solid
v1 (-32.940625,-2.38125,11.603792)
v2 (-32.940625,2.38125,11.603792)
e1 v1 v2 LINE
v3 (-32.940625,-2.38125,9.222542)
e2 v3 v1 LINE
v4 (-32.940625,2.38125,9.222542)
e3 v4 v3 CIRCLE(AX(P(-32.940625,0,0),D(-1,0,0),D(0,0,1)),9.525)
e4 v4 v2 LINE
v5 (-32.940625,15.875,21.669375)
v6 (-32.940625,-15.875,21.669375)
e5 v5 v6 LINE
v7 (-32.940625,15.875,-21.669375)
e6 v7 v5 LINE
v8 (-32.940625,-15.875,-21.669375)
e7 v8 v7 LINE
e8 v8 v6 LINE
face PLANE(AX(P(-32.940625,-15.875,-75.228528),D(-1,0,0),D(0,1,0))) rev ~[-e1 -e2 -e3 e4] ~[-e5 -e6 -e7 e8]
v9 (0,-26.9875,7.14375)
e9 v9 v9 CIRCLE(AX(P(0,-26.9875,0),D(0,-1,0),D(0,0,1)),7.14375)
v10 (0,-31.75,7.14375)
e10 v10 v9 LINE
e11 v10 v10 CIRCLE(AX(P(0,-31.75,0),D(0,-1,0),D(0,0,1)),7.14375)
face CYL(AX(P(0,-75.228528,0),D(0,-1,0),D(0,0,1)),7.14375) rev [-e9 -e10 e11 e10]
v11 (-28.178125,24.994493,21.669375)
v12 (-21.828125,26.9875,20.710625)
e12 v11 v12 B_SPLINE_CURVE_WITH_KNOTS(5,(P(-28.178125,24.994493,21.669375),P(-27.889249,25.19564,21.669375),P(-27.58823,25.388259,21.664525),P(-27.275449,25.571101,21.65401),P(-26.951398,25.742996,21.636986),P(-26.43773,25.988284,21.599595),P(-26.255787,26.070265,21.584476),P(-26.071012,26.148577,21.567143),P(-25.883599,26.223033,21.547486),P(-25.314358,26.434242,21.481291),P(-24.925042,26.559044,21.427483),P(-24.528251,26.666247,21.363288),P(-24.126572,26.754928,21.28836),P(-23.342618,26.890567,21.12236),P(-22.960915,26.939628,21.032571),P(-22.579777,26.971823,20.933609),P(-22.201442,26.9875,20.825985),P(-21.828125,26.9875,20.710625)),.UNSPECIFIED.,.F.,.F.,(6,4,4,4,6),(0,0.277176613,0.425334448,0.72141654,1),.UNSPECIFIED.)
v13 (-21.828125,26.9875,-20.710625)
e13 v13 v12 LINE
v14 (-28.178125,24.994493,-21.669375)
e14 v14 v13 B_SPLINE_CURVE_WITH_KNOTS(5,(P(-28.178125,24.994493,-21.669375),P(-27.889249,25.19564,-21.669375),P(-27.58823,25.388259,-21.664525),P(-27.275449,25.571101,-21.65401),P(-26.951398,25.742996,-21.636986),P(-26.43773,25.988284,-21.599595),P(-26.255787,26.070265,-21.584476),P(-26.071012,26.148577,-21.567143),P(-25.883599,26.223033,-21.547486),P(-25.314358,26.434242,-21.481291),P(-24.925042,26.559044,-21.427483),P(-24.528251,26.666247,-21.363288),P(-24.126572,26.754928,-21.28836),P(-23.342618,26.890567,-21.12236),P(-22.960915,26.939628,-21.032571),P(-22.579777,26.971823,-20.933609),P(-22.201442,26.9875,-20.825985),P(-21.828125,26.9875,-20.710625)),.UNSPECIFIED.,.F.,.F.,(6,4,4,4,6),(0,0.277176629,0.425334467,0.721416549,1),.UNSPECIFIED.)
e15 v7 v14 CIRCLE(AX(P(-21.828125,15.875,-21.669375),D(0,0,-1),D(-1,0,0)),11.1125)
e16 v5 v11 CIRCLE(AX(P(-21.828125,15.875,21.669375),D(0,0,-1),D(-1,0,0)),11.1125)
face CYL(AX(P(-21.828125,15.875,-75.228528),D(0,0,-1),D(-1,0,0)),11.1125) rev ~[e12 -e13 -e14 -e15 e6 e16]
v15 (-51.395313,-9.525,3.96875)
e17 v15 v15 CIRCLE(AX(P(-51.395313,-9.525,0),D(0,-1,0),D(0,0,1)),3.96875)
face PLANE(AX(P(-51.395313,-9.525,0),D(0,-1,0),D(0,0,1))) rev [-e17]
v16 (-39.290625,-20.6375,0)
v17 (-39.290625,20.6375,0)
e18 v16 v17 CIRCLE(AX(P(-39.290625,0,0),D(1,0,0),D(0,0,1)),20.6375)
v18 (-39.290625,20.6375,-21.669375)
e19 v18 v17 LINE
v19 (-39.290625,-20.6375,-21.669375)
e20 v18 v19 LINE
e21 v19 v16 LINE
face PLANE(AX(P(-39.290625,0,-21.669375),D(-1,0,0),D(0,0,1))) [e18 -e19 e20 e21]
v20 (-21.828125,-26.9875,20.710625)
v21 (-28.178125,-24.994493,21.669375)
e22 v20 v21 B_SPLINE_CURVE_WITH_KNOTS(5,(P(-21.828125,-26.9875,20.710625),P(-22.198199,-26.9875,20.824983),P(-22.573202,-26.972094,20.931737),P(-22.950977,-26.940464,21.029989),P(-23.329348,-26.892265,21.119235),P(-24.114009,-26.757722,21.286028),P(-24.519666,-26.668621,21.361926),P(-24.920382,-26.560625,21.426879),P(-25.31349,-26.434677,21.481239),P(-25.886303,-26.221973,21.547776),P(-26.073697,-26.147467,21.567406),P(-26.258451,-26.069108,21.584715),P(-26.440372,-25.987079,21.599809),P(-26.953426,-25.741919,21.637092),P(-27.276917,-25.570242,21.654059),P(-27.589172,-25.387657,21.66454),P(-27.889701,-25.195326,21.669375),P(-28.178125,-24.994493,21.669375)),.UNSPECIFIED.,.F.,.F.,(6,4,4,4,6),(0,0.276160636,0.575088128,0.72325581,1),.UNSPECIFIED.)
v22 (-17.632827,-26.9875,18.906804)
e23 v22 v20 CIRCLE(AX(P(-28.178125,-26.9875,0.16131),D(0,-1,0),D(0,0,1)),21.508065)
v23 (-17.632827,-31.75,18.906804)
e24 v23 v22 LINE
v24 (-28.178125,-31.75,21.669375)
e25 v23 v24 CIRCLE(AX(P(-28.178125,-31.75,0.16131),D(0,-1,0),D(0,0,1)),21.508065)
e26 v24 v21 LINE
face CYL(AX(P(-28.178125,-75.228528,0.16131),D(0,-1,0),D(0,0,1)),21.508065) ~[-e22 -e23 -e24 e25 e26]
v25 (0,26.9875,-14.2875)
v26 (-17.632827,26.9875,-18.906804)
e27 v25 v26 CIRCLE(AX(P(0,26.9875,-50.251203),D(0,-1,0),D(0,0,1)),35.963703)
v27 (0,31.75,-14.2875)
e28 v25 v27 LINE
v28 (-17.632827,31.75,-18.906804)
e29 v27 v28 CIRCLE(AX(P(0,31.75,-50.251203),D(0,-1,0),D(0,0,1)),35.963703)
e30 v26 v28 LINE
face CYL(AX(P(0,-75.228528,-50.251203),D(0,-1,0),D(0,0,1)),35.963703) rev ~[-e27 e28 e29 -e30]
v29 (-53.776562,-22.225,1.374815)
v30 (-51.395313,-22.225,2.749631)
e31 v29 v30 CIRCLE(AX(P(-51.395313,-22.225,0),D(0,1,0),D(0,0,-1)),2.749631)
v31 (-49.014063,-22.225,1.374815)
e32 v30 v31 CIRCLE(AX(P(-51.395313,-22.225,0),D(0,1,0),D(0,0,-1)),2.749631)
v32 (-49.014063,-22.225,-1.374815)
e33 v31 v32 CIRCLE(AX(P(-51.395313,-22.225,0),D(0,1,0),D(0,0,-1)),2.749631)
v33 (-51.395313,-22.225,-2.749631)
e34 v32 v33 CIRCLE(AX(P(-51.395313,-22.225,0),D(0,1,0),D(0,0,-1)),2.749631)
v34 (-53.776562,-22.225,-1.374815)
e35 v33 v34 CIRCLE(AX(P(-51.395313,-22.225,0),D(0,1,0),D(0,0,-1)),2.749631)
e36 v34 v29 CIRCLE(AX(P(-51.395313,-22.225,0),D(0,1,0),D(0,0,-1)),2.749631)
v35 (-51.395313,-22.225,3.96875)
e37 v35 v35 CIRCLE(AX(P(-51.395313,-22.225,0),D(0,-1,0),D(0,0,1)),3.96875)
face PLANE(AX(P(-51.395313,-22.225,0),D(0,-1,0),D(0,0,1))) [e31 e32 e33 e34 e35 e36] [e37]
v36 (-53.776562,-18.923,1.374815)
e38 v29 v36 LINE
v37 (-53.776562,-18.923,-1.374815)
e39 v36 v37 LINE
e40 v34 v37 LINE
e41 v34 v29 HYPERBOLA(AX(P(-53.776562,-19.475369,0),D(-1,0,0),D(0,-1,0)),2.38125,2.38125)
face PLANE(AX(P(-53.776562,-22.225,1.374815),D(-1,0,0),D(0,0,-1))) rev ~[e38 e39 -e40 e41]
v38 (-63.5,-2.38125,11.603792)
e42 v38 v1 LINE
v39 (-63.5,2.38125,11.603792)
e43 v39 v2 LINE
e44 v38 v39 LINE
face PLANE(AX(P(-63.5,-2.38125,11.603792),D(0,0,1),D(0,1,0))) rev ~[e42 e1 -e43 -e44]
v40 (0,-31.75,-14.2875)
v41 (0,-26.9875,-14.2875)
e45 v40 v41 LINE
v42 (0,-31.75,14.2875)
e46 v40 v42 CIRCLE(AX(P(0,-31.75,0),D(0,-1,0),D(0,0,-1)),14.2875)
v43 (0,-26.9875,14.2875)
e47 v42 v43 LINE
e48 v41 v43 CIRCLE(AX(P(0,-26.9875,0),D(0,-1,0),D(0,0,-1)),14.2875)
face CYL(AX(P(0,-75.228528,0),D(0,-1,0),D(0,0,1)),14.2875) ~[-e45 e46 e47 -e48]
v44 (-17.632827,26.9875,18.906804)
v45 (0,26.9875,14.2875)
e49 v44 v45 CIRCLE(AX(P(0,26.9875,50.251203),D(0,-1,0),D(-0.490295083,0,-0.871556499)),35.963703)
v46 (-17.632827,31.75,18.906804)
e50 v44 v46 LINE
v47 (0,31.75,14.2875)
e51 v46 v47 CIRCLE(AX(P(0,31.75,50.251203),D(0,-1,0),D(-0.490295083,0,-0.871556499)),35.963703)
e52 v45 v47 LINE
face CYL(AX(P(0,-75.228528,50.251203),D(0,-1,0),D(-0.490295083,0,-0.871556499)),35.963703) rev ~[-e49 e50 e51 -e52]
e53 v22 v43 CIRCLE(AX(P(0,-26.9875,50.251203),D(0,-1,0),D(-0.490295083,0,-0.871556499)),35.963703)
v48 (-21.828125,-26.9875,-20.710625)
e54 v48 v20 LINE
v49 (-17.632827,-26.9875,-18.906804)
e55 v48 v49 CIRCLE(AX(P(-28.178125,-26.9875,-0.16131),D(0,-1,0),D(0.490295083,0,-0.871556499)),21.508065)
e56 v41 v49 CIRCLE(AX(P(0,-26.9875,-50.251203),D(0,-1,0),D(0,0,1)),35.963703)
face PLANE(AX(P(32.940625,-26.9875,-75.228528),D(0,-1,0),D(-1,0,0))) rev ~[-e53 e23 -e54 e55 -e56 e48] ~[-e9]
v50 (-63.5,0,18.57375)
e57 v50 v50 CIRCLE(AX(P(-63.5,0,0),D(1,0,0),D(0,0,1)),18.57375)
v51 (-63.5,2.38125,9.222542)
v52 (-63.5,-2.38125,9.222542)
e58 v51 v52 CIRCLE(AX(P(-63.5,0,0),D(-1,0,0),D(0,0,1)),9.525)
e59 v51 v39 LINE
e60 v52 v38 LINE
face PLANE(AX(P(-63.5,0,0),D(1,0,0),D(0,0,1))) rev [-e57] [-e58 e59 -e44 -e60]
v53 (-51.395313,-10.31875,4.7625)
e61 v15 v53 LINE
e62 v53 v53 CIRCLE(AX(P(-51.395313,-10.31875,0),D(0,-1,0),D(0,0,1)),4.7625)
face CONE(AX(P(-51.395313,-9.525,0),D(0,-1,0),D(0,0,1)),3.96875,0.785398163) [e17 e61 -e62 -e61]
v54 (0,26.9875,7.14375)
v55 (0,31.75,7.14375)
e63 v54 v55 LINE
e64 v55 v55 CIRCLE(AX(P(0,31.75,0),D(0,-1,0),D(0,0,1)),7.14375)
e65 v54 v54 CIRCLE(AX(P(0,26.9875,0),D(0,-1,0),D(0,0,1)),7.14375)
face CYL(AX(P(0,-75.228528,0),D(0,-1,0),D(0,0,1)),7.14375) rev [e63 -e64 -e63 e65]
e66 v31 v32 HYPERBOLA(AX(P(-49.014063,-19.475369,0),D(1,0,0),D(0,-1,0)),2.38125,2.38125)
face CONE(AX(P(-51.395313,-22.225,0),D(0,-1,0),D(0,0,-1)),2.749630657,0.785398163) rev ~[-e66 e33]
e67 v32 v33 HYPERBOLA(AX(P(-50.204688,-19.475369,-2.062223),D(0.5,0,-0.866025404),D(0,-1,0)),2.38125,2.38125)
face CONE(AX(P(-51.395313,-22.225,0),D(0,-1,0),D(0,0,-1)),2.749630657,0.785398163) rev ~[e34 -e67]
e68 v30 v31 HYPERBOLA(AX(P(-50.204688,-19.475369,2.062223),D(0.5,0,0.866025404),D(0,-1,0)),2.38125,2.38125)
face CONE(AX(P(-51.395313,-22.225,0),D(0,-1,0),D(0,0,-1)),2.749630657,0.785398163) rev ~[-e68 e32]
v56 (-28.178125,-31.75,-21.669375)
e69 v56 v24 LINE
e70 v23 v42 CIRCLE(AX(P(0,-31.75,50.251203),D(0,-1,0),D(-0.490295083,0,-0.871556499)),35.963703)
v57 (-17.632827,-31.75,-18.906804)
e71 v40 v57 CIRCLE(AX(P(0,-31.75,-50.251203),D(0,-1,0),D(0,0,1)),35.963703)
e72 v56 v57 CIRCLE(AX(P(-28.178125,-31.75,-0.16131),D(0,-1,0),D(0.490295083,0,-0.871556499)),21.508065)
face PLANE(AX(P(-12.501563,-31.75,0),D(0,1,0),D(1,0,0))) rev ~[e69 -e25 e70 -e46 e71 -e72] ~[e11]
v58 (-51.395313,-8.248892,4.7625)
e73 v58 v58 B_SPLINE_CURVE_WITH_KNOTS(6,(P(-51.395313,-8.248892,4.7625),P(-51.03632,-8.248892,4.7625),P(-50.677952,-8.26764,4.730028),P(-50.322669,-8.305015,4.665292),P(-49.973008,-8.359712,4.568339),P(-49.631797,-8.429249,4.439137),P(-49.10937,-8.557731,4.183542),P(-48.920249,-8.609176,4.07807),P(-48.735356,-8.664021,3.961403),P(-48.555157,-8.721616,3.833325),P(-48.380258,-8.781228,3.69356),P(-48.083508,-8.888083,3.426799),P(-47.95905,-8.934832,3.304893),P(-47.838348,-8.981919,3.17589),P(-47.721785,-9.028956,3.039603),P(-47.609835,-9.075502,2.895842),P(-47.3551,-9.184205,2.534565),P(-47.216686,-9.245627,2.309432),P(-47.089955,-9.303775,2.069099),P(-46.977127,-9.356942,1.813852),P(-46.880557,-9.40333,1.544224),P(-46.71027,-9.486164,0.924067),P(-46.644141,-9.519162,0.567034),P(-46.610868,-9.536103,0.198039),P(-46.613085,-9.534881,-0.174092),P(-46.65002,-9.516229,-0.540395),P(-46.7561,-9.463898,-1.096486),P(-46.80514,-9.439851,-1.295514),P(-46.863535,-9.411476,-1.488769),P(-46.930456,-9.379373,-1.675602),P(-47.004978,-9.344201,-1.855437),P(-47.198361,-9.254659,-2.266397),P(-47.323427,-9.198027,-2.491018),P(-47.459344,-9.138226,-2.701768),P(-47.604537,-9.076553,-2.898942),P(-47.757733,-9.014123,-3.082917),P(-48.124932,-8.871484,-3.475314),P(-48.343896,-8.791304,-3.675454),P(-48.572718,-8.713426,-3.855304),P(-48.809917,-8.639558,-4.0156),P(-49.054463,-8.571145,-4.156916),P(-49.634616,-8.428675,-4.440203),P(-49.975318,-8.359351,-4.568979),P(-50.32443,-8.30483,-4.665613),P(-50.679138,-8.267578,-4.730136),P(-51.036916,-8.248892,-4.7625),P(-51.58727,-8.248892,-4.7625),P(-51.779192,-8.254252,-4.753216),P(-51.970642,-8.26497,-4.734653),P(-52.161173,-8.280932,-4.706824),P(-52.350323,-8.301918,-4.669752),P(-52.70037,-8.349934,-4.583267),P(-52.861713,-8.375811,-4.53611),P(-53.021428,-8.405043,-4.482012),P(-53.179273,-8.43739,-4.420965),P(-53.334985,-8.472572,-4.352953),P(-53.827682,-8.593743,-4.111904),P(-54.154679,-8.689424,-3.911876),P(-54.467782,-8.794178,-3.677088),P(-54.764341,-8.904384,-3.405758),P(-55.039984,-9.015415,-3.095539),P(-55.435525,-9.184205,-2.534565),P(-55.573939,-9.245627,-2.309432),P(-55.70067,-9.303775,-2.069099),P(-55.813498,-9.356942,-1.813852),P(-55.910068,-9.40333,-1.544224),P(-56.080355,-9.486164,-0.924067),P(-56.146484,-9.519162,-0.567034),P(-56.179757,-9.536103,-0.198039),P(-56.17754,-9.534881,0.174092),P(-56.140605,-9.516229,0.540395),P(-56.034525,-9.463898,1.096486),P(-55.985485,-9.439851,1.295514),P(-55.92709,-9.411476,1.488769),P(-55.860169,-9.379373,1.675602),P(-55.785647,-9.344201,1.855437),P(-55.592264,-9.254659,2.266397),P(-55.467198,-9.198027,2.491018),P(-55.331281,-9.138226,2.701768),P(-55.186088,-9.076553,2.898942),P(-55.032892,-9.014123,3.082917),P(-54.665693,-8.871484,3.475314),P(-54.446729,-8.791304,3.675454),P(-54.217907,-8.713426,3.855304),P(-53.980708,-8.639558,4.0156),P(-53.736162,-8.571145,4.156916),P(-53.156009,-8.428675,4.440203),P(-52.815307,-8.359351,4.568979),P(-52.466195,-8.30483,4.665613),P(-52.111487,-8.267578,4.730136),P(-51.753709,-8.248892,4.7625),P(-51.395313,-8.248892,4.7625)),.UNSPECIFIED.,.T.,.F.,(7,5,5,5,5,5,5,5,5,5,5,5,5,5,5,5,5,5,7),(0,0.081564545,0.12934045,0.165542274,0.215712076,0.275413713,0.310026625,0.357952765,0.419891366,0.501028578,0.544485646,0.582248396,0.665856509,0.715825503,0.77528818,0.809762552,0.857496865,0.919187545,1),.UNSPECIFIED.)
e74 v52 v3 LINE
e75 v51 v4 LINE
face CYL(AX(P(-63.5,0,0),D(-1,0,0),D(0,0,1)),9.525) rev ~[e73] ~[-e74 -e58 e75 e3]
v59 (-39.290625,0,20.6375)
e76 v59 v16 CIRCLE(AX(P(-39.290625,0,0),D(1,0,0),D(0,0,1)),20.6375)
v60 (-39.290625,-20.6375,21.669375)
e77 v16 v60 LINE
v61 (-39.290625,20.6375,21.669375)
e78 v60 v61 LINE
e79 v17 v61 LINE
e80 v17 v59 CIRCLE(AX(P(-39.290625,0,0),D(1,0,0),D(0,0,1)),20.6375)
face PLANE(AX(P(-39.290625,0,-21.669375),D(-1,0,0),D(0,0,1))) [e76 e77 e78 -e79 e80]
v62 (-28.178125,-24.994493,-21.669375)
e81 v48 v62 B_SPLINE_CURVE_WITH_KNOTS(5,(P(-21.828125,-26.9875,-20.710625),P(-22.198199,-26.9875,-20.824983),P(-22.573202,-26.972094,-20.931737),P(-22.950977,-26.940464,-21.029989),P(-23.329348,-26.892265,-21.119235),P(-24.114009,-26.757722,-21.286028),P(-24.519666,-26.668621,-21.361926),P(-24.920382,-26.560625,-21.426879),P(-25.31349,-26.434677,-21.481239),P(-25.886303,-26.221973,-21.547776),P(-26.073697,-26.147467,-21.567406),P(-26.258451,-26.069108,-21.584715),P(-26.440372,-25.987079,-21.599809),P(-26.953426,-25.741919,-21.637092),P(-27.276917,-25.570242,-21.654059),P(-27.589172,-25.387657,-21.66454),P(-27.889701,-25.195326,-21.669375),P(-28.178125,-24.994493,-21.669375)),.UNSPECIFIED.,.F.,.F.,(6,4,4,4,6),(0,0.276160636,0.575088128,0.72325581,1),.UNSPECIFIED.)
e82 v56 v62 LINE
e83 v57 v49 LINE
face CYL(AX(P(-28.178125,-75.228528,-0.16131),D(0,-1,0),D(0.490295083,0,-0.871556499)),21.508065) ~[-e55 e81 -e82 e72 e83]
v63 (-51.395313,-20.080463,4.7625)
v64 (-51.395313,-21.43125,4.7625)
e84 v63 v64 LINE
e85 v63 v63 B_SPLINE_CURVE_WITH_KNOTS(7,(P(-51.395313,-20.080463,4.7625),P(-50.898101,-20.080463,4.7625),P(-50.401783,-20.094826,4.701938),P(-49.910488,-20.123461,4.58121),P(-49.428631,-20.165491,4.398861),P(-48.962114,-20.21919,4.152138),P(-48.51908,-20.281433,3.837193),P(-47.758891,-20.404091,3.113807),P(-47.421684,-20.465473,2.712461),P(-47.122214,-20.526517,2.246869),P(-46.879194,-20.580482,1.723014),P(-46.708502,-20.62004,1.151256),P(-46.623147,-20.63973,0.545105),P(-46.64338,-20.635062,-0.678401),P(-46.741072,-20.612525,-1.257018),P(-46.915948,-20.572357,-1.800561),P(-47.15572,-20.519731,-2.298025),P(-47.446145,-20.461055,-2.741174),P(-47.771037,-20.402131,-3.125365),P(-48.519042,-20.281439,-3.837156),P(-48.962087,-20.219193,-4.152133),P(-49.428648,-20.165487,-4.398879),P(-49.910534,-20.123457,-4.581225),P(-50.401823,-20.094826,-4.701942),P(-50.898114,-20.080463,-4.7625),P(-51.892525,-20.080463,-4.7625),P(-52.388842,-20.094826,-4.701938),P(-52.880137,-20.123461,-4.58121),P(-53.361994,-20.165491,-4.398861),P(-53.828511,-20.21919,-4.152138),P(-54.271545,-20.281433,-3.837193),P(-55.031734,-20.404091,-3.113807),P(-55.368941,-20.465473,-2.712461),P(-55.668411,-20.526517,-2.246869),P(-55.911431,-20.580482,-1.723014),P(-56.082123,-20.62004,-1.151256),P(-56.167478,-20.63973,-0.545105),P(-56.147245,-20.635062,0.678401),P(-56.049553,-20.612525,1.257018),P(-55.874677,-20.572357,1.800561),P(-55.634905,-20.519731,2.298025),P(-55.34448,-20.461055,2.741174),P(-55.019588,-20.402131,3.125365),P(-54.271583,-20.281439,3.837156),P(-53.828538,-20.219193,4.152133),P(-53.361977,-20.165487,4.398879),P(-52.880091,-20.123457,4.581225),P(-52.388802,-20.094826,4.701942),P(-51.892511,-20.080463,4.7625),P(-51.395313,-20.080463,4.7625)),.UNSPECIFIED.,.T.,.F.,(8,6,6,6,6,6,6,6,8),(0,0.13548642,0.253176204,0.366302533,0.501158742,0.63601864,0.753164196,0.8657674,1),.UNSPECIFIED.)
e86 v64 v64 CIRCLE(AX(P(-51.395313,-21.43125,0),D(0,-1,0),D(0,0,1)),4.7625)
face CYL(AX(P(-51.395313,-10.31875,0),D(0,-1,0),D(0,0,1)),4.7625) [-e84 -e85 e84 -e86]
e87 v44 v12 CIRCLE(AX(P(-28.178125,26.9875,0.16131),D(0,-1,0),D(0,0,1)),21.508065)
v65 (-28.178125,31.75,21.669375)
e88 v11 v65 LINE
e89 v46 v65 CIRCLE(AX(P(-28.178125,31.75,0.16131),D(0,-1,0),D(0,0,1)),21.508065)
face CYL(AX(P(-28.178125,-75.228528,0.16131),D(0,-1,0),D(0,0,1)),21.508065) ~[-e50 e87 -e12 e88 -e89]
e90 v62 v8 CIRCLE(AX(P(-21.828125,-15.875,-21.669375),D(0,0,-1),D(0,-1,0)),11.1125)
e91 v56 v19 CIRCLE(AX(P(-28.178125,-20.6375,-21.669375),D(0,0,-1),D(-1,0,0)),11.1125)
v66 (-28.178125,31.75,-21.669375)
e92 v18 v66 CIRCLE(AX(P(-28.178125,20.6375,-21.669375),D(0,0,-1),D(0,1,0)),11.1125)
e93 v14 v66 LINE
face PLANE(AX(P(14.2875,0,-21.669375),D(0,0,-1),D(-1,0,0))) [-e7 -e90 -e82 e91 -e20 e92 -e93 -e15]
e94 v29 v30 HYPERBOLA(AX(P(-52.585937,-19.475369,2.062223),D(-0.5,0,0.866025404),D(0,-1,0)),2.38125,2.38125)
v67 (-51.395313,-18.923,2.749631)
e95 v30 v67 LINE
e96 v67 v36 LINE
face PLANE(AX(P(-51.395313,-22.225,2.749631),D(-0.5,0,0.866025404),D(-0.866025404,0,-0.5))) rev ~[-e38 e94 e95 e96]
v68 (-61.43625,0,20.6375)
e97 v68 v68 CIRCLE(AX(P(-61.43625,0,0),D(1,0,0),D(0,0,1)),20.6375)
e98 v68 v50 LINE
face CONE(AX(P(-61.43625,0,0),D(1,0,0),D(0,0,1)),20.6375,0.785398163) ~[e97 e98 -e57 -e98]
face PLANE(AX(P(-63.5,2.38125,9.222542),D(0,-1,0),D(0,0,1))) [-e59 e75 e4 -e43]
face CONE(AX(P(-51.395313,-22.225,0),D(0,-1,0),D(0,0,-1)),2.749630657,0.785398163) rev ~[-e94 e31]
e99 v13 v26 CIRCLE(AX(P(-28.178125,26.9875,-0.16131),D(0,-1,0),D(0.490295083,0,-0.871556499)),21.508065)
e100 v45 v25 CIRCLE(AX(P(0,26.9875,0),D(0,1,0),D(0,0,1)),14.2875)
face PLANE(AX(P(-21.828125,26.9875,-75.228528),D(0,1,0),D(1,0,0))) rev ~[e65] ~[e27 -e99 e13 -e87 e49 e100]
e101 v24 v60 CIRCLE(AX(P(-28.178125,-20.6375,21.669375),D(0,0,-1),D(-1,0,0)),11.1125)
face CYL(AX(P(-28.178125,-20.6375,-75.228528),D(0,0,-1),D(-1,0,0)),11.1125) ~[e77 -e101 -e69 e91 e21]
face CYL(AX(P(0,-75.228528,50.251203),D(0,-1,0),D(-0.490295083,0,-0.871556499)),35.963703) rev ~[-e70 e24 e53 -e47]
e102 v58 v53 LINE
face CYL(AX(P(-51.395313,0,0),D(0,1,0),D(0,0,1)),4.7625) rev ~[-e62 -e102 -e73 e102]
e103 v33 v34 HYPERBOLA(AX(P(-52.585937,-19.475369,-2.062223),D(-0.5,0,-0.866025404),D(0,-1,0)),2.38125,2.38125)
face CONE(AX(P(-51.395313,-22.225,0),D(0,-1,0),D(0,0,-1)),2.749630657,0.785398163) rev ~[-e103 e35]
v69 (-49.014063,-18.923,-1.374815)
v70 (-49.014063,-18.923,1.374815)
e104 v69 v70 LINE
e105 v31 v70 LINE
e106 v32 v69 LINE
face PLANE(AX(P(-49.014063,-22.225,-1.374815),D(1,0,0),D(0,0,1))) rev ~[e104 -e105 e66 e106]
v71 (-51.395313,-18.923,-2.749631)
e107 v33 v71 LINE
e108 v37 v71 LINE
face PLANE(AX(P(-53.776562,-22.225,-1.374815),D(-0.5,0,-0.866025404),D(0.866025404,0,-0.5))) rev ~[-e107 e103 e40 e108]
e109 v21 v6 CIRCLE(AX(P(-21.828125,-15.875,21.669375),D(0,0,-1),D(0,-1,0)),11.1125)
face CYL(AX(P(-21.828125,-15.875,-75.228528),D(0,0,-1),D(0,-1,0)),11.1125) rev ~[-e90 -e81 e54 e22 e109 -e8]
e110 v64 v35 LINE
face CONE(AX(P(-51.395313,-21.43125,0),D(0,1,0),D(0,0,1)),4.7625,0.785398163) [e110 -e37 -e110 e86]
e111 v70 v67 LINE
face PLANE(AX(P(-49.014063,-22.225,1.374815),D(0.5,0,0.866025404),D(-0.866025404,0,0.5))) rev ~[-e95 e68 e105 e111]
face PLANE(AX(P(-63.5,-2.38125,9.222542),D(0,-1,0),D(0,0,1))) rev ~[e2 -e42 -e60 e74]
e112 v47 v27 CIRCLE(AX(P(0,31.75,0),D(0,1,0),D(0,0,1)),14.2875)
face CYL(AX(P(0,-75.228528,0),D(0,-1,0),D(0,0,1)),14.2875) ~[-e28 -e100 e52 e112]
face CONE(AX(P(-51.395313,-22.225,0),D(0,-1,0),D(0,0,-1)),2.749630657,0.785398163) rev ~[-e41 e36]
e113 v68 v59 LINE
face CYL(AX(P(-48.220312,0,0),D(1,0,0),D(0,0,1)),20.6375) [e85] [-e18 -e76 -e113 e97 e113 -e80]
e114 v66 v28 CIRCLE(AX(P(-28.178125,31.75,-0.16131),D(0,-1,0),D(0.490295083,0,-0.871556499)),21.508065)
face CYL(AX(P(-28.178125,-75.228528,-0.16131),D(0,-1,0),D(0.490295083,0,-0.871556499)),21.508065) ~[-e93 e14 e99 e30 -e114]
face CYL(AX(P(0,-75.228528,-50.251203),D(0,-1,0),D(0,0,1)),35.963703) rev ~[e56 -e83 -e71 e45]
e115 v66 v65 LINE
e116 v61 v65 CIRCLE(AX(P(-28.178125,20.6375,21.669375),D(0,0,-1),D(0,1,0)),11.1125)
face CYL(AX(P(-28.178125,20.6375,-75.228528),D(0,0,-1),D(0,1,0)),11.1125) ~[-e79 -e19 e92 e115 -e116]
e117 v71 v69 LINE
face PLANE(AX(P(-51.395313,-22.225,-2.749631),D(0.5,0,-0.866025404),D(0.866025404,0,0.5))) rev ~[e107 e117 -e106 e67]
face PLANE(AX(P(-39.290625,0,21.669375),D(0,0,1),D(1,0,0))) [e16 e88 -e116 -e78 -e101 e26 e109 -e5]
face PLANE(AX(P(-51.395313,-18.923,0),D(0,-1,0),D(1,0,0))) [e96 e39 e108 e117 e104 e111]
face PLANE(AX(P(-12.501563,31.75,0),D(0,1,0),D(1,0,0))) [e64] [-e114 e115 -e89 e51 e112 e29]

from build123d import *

# Parameters (mm, degrees)
SKETCH1_W           = 30.559375
SKETCH1_H           = 20.6375
BOSS_EXTRUDE6_DEPTH = 31.75
CHAMFER1_SIZE       = 2.06375
EXTRUDE3_DEPTH      = 75.228527622
EXTRUDE3_DEPTH_BACK = 75.228527622
EXTRUDE1_DEPTH      = 75.228527622
EXTRUDE1_DEPTH_BACK = 75.228527622
SKETCH4_R           = 9.525
EXTRUDE4_DEPTH      = 30.559375
EXTRUDE6_DEPTH      = 75.228527694
EXTRUDE6_DEPTH_BACK = 75.228527694
SKETCH6_R           = 7.14375
SKETCH33_W          = 2.38125
SKETCH33_H          = 4.7625
CUT_EXTRUDE1_DEPTH  = 87.767041438
SKETCH34_R          = 4.7625
CUT_EXTRUDE2_DEPTH  = 75.228527694
CUT_EXTRUDE3_DEPTH  = 3.302


with BuildPart() as part:
    # Sketch1 → Revolve1 (revolve)
    with BuildSketch(Plane(origin=(0, 0, 0), x_dir=(1, 0, 0), z_dir=(0, 1, 0)), mode=Mode.PRIVATE) as revolve1_sk:
        with Locations((-48.2203125, 10.31875)):
            Rectangle(SKETCH1_W, SKETCH1_H)
    revolve(revolve1_sk.sketch.rotate(Axis((-63.5, 0, 0), (1, 0, 0)), 180), axis=Axis((-63.5, 0, 0), (1, 0, 0)))

    # Sketch30 → Boss-Extrude6 (add, symmetric)
    with BuildSketch(Plane(origin=(0, 0, 0), x_dir=(1, 0, 0), z_dir=(0, 1, 0))):
        Polygon((-39.290625, 21.669375), (-39.290625, -21.669375), (-21.828125, -21.669375), (14.2875, -21.669375), (14.2875, 21.669375), (-21.828125, 21.669375), align=None)
    extrude(amount=BOSS_EXTRUDE6_DEPTH, both=True)

    # Chamfer1
    chamfer1_edges = [part.edges().sort_by_distance(p)[0] for p in [
        (-63.5, 0, -20.6375),
    ]]
    chamfer(chamfer1_edges, length=CHAMFER1_SIZE)

    # Sketch3 → Extrude3 (cut, two sides: drawn at the far end of the back side and taken through both)
    with BuildSketch(Plane.XY.offset(-EXTRUDE3_DEPTH_BACK)):
        with BuildLine():
            Line((-21.828125, 26.9875), (32.940625, 26.9875))
            Line((32.940625, 26.9875), (32.940625, -26.9875))
            Line((32.940625, -26.9875), (-21.828125, -26.9875))
            ThreePointArc((-21.828125, -26.9875), (-29.685849106, -23.732724106), (-32.940625, -15.875))
            Line((-32.940625, -15.875), (-32.940625, 15.875))
            ThreePointArc((-32.940625, 15.875), (-29.685849106, 23.732724106), (-21.828125, 26.9875))
        make_face()
        with BuildLine():
            Line((-39.290625, 31.75), (-28.178125, 31.75))
            ThreePointArc((-28.178125, 31.75), (-36.035849106, 28.495224106), (-39.290625, 20.6375))
            Line((-39.290625, 20.6375), (-39.290625, 31.75))
        make_face()
        with BuildLine():
            Line((-39.290625, -31.75), (-39.290625, -20.6375))
            ThreePointArc((-39.290625, -20.6375), (-36.035849106, -28.495224106), (-28.178125, -31.75))
            Line((-28.178125, -31.75), (-39.290625, -31.75))
        make_face()
    extrude(amount=EXTRUDE3_DEPTH + EXTRUDE3_DEPTH_BACK, mode=Mode.SUBTRACT)

    # Sketch2 → Extrude1 (cut, two sides: drawn at the far end of the back side and taken through both)
    with BuildSketch(Plane(origin=(0, 0, 0), x_dir=(1, 0, 0), z_dir=(0, 1, 0)).offset(-EXTRUDE1_DEPTH_BACK)):
        with BuildLine():
            Line((20.6375, 31.75), (20.6375, -31.75))
            Line((20.6375, -31.75), (-21.828125, -31.75))
            Line((-21.828125, -31.75), (-28.178125, -21.669375))
            ThreePointArc((-28.178125, -21.669375), (-22.727549003, -20.967272623), (-17.632826724, -18.906803902))
            ThreePointArc((-17.632826724, -18.906803902), (-9.113925428, -15.461487614), (0, -14.2875))
            ThreePointArc((0, -14.2875), (14.2875, 0), (0, 14.2875))
            ThreePointArc((0, 14.2875), (-9.113925428, 15.461487614), (-17.632826724, 18.906803902))
            ThreePointArc((-17.632826724, 18.906803902), (-22.727549003, 20.967272623), (-28.178125, 21.669375))
            Line((-28.178125, 21.669375), (-21.828125, 31.75))
            Line((-21.828125, 31.75), (20.6375, 31.75))
        make_face()
    extrude(amount=EXTRUDE1_DEPTH + EXTRUDE1_DEPTH_BACK, mode=Mode.SUBTRACT)

    # Sketch4 → Extrude4 (cut)
    with BuildSketch(Plane.ZY.offset(63.5)):
        Circle(SKETCH4_R)
    extrude(amount=-EXTRUDE4_DEPTH, mode=Mode.SUBTRACT)

    # Sketch6 → Extrude6 (cut, two sides: drawn at the far end of the back side and taken through both)
    with BuildSketch(Plane(origin=(0, 0, 0), x_dir=(1, 0, 0), z_dir=(0, 1, 0)).offset(-EXTRUDE6_DEPTH_BACK)):
        with Locations(Location((0, 0, 0), (0, 0, 270))):
            Circle(SKETCH6_R)
    extrude(amount=EXTRUDE6_DEPTH + EXTRUDE6_DEPTH_BACK, mode=Mode.SUBTRACT)

    # Sketch33 → Cut-Extrude1 (cut, through all)
    with BuildSketch(Plane.ZY.offset(63.5)):
        with Locations((10.413166593, 0)):
            Rectangle(SKETCH33_W, SKETCH33_H)
    extrude(amount=-CUT_EXTRUDE1_DEPTH, mode=Mode.SUBTRACT)

    # Sketch34 → Cut-Extrude2 (cut, through all)
    with BuildSketch(Plane(origin=(0, 0, 0), x_dir=(1, 0, 0), z_dir=(0, 1, 0))):
        with Locations(Location((-51.3953125, 0, 0), (0, 0, 270))):
            Circle(SKETCH34_R)
    extrude(amount=-CUT_EXTRUDE2_DEPTH, mode=Mode.SUBTRACT)

    # Sketch35 → Revolve2 (revolve)
    with BuildSketch(Plane(origin=(-51.3953125, 0, 0), x_dir=(0, 0, -1), z_dir=(1, 0, 0))):
        Polygon((-3.96875, -9.525), (-4.7625, -10.31875), (-4.7625, -21.43125), (-3.96875, -22.225), (0, -22.225), (0, -9.525), align=None)
    revolve(axis=Axis((-51.3953125, -9.525, 0), (0, -1, 0)))

    # Sketch36 → Cut-Extrude3 (cut)
    with BuildSketch(Plane.XZ.offset(22.225)):
        Polygon((-51.3953125, -2.749630657), (-49.0140625, -1.374815329), (-49.0140625, 1.374815329), (-51.3953125, 2.749630657), (-53.7765625, 1.374815329), (-53.7765625, -1.374815329), align=None)
    extrude(amount=-CUT_EXTRUDE3_DEPTH, mode=Mode.SUBTRACT)

    # Cut-Extrude4 cone 1 section (through the dimple's axis) → Cut-Extrude4 (revolve, cut)
    with BuildSketch(Plane(origin=(-51.3953125, -22.225, 0), x_dir=(0, 0, -1), z_dir=(1, 0, 0))):
        Polygon((0, 0), (2.749630657, 0), (0, 2.749630657), align=None)
    revolve(axis=Axis((-51.3953125, -22.225, 0), (0, 1, 0)), mode=Mode.SUBTRACT)


solid = part.part
